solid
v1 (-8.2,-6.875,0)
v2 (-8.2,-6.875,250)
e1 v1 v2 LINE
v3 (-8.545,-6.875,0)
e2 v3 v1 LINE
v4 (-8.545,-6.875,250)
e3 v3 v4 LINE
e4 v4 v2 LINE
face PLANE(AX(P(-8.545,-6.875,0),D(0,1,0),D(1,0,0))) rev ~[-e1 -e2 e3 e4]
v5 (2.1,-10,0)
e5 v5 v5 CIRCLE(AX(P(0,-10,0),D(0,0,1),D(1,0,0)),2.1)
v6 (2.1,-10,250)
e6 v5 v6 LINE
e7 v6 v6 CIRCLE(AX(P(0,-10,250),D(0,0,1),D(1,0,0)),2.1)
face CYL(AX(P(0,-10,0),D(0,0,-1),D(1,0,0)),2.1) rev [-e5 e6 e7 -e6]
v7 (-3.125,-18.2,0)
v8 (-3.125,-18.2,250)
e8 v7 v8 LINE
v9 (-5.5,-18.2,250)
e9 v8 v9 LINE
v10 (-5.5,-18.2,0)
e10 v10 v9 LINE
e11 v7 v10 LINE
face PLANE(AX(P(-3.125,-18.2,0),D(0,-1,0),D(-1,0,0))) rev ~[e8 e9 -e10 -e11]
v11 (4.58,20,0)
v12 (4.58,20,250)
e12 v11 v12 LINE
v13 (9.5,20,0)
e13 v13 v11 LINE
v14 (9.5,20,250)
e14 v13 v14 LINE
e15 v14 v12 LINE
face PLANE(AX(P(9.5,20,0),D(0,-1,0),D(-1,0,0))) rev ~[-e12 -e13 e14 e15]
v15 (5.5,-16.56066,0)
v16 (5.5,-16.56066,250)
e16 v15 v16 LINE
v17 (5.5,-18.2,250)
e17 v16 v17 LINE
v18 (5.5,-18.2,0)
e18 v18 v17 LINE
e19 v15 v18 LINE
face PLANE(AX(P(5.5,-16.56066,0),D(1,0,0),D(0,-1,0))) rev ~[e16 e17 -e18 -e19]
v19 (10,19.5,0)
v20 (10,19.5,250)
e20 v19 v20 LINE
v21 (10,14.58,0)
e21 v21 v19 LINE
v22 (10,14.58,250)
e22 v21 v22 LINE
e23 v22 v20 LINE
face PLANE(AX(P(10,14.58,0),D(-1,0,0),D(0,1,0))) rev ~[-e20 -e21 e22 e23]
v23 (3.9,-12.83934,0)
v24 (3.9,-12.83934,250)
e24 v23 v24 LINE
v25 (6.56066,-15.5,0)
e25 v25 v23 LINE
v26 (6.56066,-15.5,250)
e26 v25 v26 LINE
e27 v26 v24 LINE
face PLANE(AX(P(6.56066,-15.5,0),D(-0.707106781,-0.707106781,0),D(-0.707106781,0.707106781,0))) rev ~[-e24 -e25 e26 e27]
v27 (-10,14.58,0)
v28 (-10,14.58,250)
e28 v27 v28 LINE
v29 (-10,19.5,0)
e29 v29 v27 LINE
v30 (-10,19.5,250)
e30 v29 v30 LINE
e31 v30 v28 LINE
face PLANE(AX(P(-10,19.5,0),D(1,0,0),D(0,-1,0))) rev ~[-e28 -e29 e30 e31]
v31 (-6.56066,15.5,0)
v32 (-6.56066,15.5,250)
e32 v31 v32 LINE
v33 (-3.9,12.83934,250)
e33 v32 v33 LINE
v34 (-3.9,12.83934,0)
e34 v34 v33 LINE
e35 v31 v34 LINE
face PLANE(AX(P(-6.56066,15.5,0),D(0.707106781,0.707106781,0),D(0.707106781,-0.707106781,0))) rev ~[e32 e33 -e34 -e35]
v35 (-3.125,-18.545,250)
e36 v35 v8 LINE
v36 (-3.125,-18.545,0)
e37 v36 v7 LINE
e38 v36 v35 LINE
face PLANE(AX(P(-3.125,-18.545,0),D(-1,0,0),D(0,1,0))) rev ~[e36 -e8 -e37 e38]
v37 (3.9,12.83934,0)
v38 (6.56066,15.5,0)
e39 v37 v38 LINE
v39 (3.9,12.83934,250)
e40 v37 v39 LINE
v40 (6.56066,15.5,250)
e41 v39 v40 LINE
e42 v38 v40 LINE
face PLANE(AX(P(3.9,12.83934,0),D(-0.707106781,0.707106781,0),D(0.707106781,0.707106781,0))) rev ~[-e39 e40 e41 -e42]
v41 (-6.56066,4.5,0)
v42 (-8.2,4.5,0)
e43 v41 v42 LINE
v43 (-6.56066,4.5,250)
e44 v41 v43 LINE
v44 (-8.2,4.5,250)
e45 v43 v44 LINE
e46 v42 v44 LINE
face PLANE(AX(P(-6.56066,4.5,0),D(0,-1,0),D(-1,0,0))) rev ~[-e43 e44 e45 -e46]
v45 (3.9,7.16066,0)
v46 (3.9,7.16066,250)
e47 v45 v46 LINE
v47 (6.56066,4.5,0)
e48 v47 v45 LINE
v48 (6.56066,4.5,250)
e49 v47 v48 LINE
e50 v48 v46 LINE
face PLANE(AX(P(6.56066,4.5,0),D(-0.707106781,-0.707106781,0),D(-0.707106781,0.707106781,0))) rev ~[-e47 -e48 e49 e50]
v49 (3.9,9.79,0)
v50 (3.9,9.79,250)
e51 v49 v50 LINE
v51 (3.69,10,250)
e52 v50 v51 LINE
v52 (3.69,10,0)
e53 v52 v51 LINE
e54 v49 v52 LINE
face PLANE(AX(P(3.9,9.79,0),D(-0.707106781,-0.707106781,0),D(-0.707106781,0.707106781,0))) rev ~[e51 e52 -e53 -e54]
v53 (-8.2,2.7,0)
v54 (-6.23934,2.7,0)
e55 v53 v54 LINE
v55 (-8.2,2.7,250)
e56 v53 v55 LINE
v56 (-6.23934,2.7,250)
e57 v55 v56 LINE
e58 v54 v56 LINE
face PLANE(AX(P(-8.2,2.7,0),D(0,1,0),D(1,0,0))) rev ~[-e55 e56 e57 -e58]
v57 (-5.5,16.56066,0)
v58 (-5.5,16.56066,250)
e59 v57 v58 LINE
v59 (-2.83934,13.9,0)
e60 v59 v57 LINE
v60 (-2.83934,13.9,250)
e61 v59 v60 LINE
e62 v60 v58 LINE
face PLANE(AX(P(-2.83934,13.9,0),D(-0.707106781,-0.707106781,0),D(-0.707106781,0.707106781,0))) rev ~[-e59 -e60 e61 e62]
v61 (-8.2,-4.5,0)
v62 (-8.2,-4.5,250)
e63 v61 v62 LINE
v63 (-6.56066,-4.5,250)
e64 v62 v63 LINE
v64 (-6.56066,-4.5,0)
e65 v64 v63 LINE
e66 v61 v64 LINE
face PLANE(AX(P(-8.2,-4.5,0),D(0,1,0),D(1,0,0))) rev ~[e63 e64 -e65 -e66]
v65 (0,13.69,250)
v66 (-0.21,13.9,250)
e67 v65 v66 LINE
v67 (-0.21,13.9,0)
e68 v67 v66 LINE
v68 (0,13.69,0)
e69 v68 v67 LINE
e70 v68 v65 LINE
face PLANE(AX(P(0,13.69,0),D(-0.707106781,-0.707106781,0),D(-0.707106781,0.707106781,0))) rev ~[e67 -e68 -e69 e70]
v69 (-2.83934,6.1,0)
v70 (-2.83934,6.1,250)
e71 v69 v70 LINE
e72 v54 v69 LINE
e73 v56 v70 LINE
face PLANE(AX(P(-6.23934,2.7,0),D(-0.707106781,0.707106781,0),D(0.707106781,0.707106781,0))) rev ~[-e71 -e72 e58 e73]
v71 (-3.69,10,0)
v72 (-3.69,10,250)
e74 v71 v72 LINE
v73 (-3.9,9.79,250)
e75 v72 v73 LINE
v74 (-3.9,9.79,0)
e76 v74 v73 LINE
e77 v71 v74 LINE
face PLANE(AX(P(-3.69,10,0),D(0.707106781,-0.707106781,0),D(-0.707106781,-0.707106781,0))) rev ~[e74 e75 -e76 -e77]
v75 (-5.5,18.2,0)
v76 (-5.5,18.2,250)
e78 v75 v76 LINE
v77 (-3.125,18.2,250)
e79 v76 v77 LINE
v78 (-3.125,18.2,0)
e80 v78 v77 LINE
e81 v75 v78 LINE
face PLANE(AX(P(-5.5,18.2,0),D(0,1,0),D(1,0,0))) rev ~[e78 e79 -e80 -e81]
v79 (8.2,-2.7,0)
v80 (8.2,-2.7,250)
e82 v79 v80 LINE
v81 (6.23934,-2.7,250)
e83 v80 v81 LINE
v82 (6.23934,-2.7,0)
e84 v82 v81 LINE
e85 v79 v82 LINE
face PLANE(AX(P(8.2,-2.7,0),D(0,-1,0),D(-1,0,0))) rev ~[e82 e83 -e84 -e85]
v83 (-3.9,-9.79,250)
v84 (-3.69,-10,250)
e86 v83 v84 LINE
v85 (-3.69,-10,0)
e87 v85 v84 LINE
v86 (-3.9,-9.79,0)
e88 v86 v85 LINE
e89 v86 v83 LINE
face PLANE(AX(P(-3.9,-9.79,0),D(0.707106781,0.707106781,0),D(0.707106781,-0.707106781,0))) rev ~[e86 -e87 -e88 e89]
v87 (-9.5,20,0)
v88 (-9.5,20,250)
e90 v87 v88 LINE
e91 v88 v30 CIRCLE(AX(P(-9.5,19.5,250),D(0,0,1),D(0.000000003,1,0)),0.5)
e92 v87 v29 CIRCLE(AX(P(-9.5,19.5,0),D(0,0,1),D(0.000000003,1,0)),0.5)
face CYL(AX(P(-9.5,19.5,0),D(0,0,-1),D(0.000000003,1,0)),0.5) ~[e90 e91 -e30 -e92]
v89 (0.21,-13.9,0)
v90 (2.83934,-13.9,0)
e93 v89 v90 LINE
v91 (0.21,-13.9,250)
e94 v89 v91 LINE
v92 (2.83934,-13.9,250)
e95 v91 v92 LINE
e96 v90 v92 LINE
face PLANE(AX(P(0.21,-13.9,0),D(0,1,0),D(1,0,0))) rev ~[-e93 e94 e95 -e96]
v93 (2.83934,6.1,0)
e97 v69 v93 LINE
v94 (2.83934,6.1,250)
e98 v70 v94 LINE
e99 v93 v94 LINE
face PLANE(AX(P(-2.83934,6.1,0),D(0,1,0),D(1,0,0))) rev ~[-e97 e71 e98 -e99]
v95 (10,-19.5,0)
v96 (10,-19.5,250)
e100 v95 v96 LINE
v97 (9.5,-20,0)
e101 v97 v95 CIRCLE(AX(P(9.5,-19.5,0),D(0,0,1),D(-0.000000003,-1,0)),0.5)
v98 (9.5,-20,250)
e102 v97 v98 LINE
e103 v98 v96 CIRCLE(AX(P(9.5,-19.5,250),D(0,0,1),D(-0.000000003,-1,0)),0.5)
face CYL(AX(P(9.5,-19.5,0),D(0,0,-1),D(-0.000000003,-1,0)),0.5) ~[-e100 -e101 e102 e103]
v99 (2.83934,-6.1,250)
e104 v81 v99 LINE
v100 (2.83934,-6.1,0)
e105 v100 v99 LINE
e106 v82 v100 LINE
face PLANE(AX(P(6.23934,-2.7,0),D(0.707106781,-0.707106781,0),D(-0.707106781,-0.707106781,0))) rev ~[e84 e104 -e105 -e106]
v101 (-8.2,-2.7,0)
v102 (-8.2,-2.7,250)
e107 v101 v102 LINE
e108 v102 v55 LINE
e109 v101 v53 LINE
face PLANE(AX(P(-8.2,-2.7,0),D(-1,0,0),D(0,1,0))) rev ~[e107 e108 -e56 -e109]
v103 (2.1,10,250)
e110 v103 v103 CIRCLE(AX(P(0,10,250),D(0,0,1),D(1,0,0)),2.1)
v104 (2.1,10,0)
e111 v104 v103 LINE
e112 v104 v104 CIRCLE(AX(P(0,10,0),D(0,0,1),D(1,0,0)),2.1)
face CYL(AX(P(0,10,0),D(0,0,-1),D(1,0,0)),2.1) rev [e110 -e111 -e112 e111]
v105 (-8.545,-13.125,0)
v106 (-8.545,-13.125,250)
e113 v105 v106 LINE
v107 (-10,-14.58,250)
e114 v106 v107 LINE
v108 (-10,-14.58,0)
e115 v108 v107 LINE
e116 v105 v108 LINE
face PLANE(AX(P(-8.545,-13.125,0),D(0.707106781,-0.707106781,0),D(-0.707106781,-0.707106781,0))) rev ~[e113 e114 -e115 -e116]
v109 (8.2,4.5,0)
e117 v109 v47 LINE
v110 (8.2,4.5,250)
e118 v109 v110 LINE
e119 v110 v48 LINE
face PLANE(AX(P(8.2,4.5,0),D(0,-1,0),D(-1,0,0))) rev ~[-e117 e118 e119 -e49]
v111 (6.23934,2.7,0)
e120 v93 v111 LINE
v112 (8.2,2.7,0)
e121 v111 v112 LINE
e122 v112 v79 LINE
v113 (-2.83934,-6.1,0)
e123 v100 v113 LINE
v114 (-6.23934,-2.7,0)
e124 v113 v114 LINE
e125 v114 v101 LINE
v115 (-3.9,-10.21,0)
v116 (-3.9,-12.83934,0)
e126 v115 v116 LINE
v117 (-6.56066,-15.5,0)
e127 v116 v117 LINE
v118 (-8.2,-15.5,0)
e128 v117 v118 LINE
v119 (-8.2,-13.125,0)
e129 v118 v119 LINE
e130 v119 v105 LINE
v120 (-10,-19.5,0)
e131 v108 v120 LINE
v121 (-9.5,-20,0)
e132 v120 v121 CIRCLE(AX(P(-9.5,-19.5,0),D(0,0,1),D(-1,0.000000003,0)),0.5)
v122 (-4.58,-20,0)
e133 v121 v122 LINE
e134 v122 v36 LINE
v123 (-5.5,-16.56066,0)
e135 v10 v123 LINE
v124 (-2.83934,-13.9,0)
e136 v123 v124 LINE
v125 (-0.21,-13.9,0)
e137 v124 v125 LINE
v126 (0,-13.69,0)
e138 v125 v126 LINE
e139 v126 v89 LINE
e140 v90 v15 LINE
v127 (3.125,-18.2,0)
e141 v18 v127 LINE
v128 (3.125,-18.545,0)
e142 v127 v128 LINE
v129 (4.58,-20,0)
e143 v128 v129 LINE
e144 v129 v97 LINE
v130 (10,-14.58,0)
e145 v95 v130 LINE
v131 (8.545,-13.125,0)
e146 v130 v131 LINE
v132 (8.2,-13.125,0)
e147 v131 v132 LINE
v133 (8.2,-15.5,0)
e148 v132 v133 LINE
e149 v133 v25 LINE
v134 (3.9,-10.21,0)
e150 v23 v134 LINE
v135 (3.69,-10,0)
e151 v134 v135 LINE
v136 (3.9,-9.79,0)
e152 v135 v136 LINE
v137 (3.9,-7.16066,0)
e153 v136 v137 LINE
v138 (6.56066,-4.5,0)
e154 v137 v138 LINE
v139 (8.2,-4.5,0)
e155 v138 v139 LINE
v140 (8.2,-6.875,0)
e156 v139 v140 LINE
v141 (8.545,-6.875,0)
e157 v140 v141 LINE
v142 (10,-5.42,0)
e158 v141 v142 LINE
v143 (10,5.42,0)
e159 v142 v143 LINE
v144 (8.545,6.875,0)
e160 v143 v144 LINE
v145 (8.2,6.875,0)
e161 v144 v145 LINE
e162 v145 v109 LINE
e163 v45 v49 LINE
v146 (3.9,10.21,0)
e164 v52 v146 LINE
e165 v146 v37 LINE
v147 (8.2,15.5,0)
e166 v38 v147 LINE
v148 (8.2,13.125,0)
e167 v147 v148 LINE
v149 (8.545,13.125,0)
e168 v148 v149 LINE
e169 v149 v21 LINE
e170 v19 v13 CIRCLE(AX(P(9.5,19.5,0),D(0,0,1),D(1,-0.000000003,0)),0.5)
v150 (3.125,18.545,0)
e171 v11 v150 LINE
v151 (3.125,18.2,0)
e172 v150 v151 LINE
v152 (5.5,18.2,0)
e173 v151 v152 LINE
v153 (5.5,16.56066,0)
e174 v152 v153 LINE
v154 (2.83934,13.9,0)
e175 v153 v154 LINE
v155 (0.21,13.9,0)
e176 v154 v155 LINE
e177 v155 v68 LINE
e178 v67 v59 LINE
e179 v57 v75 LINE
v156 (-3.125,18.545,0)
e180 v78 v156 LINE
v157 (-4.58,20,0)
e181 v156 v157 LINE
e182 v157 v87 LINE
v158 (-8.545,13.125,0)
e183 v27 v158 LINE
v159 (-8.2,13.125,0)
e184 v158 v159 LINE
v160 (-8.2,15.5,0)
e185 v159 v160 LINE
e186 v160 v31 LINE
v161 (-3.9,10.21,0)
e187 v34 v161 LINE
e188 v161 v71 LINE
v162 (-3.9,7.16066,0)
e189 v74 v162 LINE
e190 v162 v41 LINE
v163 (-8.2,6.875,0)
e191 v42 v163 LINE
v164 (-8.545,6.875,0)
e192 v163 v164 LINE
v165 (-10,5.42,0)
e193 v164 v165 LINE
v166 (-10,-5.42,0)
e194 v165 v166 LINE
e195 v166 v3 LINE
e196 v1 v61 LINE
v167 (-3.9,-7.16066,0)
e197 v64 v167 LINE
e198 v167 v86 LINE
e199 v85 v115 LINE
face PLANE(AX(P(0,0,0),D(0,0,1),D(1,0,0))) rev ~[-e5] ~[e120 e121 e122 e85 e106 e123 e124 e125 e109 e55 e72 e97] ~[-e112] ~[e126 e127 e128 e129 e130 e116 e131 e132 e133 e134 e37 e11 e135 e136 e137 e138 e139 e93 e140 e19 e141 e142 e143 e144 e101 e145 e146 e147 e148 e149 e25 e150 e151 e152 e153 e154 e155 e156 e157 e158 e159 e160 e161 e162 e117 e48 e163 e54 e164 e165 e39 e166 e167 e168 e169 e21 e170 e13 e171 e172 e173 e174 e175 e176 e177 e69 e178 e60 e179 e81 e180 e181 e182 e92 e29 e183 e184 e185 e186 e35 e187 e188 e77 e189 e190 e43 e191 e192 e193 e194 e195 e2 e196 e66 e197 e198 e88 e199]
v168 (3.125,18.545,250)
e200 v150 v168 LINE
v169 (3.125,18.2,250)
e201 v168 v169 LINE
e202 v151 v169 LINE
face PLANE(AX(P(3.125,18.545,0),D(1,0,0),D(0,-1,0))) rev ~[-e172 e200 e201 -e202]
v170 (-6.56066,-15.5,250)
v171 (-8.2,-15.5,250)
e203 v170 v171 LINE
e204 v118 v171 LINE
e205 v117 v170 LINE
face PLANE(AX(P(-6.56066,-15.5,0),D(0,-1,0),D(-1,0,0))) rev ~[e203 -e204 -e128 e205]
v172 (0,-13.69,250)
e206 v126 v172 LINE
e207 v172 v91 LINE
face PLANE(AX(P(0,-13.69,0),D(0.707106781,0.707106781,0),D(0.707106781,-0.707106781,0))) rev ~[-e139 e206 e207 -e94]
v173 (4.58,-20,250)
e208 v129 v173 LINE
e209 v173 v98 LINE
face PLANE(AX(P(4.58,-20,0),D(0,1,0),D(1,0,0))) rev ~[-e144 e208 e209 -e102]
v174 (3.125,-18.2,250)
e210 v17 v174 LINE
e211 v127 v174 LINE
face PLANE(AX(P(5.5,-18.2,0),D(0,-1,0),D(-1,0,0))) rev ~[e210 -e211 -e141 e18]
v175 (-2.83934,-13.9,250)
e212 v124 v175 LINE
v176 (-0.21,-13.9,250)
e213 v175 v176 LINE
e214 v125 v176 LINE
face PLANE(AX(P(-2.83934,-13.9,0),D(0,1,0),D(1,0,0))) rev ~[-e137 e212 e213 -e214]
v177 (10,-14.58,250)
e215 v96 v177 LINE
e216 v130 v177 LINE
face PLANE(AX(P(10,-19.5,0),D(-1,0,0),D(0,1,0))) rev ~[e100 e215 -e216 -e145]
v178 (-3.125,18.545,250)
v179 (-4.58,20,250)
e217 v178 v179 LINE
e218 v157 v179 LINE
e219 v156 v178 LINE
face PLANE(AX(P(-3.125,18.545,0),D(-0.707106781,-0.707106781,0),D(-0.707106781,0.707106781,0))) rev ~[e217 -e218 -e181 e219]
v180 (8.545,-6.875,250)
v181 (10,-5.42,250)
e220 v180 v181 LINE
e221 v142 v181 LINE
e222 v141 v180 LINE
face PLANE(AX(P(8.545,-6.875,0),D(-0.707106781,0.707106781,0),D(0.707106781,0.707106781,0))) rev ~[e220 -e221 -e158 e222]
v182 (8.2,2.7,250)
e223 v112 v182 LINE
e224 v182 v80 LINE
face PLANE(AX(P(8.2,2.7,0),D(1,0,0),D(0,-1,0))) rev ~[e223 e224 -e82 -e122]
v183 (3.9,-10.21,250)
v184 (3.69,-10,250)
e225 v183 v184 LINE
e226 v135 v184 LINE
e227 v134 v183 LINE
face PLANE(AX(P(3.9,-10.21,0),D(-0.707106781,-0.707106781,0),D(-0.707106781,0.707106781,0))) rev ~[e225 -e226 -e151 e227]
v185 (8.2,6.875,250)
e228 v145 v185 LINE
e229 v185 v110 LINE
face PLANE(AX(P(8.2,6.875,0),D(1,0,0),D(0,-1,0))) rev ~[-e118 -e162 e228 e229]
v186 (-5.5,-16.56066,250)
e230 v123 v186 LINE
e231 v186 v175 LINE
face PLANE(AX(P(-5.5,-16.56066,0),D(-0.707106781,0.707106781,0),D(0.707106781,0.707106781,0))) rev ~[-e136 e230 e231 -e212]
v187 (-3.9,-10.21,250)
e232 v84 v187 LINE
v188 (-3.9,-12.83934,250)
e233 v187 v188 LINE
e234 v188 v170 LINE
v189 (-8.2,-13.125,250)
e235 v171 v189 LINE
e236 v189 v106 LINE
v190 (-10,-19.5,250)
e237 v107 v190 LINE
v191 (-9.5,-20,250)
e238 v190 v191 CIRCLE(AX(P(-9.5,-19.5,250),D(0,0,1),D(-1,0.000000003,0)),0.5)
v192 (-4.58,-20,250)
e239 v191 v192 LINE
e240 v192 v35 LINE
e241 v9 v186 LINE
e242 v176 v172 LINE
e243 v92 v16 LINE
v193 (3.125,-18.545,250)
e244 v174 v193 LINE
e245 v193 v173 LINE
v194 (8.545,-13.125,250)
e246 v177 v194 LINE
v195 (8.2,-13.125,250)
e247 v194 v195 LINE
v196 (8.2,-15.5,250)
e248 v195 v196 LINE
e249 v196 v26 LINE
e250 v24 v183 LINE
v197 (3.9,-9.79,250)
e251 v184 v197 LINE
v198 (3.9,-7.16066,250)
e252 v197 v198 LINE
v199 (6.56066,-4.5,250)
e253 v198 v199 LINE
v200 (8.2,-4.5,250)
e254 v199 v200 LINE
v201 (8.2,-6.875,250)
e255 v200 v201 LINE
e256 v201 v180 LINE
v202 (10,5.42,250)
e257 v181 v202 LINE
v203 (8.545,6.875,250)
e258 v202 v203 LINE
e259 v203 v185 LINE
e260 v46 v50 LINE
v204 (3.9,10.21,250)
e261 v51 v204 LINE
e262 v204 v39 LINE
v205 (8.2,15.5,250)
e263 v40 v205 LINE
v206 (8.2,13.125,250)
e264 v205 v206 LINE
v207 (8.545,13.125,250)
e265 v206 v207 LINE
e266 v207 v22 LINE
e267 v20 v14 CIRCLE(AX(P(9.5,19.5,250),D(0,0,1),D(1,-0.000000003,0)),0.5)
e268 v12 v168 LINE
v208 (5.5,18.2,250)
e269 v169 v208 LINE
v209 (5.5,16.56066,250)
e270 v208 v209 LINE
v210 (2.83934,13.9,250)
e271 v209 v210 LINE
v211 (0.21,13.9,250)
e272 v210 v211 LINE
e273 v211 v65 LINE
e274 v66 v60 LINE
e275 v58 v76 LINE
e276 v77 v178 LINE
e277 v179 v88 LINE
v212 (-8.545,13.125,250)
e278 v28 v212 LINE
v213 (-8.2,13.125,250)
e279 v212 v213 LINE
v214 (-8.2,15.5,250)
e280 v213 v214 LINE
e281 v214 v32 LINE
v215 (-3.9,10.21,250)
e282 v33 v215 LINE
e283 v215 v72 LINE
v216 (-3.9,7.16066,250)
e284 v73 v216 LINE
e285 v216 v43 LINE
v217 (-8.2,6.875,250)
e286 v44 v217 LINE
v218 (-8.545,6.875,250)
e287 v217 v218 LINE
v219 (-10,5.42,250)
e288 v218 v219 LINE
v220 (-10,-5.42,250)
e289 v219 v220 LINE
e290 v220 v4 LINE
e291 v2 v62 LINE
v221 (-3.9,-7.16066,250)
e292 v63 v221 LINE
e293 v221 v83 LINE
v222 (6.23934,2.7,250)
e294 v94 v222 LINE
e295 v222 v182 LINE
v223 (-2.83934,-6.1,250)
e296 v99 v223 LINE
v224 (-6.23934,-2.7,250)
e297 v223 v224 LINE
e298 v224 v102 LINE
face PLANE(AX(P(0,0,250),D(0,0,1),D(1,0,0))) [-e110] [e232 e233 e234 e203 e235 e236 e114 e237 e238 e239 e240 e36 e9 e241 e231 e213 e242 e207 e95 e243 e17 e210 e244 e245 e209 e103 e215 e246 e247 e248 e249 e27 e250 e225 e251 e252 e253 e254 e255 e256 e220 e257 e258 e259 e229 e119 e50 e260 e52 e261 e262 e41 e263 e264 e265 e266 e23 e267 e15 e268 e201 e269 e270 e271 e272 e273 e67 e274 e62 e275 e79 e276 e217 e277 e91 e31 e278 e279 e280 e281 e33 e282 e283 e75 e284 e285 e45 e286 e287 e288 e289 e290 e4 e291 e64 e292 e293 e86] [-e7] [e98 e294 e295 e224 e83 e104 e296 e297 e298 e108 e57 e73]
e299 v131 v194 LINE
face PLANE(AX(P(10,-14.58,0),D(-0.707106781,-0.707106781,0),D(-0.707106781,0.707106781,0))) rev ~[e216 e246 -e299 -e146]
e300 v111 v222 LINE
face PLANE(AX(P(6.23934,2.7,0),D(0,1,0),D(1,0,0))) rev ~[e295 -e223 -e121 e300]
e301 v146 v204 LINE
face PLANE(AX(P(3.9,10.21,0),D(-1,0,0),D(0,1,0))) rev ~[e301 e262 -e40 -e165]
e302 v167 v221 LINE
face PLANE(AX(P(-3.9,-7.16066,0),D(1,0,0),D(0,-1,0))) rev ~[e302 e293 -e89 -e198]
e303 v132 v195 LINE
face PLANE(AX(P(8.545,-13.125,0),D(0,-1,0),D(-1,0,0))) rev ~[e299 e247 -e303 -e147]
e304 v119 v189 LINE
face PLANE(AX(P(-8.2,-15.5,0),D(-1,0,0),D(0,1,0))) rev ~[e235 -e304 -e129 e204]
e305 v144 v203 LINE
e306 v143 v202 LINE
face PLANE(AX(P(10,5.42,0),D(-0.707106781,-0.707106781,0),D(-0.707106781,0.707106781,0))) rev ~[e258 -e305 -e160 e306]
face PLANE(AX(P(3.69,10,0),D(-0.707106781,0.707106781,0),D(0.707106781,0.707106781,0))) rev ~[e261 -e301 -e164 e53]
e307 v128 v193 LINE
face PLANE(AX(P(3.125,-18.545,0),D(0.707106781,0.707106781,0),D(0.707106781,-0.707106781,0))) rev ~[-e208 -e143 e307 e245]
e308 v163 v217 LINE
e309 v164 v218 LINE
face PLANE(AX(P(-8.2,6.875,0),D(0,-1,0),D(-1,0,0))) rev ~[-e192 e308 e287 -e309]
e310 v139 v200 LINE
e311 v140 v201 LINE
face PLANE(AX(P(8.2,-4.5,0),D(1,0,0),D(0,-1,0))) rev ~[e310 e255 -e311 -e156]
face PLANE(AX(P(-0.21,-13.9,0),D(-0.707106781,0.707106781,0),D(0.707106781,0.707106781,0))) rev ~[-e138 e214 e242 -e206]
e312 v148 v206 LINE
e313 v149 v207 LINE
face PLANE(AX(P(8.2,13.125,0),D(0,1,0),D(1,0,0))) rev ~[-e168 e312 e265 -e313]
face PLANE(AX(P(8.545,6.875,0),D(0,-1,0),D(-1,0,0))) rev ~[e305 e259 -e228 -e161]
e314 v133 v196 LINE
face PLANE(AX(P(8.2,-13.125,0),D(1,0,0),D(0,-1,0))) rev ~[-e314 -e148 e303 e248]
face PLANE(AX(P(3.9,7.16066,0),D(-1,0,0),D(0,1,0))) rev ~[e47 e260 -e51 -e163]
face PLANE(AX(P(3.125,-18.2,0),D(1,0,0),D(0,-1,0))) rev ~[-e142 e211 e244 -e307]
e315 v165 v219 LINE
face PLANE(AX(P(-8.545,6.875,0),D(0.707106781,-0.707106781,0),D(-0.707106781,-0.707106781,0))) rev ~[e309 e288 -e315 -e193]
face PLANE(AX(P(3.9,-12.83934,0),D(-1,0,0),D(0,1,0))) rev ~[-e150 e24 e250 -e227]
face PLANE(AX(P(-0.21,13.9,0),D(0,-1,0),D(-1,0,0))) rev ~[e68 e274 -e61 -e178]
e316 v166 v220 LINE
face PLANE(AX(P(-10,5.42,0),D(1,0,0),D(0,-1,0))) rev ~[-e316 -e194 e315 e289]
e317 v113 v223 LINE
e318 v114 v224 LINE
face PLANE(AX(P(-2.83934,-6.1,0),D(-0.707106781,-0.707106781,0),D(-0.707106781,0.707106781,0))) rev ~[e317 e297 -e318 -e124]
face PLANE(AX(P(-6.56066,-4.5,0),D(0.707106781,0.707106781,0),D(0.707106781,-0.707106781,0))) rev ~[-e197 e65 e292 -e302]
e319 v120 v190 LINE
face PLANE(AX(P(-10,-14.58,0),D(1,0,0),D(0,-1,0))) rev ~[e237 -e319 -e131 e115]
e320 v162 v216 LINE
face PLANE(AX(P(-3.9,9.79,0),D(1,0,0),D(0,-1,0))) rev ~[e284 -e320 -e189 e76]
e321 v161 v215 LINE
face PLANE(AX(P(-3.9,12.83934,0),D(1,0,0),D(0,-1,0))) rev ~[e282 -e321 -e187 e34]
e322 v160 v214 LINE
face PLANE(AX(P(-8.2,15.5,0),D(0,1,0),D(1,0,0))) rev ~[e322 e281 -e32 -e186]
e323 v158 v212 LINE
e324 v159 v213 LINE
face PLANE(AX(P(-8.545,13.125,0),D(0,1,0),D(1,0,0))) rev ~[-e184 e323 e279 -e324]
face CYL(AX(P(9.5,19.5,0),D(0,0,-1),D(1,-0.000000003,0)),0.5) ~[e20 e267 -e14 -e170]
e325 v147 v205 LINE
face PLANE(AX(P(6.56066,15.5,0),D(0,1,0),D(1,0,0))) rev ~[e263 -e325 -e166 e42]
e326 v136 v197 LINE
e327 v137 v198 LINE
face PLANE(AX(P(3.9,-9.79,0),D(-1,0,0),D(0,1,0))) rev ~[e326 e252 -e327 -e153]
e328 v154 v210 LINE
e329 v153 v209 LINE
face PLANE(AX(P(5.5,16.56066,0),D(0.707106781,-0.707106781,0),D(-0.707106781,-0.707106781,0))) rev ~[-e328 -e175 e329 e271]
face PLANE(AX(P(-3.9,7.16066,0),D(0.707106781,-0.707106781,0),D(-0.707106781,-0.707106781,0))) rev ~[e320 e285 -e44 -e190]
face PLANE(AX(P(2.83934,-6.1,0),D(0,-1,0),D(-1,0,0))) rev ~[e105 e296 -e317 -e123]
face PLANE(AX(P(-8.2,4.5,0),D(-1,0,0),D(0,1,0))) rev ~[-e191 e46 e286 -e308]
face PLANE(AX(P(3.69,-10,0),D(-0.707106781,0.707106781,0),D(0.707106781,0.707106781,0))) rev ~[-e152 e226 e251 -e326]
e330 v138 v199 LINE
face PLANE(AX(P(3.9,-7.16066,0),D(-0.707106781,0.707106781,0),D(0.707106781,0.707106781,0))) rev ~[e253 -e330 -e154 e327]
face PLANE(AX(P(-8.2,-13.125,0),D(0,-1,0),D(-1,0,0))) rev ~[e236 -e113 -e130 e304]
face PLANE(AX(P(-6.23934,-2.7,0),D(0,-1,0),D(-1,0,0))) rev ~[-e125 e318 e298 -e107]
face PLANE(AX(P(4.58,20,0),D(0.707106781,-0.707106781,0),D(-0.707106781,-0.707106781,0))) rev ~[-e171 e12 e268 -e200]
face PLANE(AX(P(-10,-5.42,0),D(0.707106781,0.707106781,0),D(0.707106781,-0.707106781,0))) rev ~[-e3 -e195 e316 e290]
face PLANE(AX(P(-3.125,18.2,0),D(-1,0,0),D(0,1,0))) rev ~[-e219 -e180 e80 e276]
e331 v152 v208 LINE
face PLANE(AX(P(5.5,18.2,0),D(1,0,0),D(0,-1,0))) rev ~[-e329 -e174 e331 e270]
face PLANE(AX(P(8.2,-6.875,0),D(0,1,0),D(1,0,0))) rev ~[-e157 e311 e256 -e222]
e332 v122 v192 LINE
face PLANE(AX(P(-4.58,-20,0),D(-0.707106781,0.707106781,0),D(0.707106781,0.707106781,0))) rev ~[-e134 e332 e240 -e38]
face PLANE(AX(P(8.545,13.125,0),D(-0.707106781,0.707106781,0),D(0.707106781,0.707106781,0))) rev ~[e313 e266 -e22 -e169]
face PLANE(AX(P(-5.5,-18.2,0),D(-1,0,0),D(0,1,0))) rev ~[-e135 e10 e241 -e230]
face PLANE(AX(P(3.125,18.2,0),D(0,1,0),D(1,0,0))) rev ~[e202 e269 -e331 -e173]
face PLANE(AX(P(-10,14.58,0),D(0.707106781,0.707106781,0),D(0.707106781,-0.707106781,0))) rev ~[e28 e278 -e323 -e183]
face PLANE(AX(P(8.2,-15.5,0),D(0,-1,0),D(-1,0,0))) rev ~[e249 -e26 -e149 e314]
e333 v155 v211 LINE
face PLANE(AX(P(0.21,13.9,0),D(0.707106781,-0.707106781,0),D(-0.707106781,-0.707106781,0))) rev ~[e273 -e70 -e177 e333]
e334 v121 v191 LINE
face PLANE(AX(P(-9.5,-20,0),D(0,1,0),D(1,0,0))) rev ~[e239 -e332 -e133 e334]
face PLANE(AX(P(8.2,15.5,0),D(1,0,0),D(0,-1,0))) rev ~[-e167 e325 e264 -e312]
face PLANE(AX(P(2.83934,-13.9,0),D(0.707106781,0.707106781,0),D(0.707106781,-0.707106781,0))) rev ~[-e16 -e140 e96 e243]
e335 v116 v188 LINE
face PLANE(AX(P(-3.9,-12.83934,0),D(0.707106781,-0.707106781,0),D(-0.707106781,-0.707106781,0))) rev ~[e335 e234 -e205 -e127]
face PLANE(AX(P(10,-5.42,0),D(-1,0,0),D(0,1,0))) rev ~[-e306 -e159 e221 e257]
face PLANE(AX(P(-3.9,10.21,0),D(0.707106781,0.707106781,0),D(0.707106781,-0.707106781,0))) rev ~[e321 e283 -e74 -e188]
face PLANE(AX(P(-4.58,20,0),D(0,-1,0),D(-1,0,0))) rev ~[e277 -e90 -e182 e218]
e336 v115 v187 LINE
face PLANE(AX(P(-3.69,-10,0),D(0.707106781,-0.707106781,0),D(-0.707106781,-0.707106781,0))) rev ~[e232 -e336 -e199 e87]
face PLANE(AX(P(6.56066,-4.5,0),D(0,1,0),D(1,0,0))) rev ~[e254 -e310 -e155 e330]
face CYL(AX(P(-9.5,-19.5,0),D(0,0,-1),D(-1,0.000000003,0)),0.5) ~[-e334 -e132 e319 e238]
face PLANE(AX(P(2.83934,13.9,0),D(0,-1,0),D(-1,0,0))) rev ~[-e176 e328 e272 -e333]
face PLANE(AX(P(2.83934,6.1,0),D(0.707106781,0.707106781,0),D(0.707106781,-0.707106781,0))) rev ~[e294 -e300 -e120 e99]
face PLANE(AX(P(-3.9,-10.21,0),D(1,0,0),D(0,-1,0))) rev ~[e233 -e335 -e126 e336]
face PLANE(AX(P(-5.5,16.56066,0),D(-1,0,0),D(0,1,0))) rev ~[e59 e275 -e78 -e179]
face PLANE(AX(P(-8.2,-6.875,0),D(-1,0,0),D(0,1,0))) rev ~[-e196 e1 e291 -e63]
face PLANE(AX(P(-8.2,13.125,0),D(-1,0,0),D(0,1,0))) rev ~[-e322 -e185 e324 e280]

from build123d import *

# Parameters (mm, degrees)
SKETCH1_R           = 2.1
BOSS_EXTRUDE1_DEPTH = 250


with BuildPart() as part:
    # Sketch1 → Boss-Extrude1 (new body)
    with BuildSketch(Plane.XY):
        with BuildLine():
            Line((4.58, -20), (9.5, -20))
            ThreePointArc((9.5, -20), (9.853553391, -19.853553391), (10, -19.5))
            Line((10, -19.5), (10, -14.58))
            Line((10, -14.58), (8.545, -13.125))
            Line((8.545, -13.125), (8.2, -13.125))
            Line((8.2, -13.125), (8.2, -15.5))
            Line((8.2, -15.5), (6.560660172, -15.5))
            Line((6.560660172, -15.5), (3.9, -12.839339828))
            Line((3.9, -12.839339828), (3.9, -10.21))
            Line((3.9, -10.21), (3.69, -10))
            Line((3.69, -10), (3.9, -9.79))
            Line((3.9, -9.79), (3.9, -7.160660172))
            Line((3.9, -7.160660172), (6.560660172, -4.5))
            Line((6.560660172, -4.5), (8.2, -4.5))
            Line((8.2, -4.5), (8.2, -6.875))
            Line((8.2, -6.875), (8.545, -6.875))
            Line((8.545, -6.875), (10, -5.42))
            Line((10, -5.42), (10, 5.42))
            Line((10, 5.42), (8.545, 6.875))
            Line((8.545, 6.875), (8.2, 6.875))
            Line((8.2, 6.875), (8.2, 4.5))
            Line((8.2, 4.5), (6.560660172, 4.5))
            Line((6.560660172, 4.5), (3.9, 7.160660172))
            Line((3.9, 7.160660172), (3.9, 9.79))
            Line((3.9, 9.79), (3.69, 10))
            Line((3.69, 10), (3.9, 10.21))
            Line((3.9, 10.21), (3.9, 12.839339828))
            Line((3.9, 12.839339828), (6.560660172, 15.5))
            Line((6.560660172, 15.5), (8.2, 15.5))
            Line((8.2, 15.5), (8.2, 13.125))
            Line((8.2, 13.125), (8.545, 13.125))
            Line((8.545, 13.125), (10, 14.58))
            Line((10, 14.58), (10, 19.5))
            ThreePointArc((10, 19.5), (9.853553391, 19.853553391), (9.5, 20))
            Line((9.5, 20), (4.58, 20))
            Line((4.58, 20), (3.125, 18.545))
            Line((3.125, 18.545), (3.125, 18.2))
            Line((3.125, 18.2), (5.5, 18.2))
            Line((5.5, 18.2), (5.5, 16.560660172))
            Line((5.5, 16.560660172), (2.839339828, 13.9))
            Line((2.839339828, 13.9), (0.21, 13.9))
            Line((0.21, 13.9), (0, 13.69))
            Line((0, 13.69), (-0.21, 13.9))
            Line((-0.21, 13.9), (-2.839339828, 13.9))
            Line((-2.839339828, 13.9), (-5.5, 16.560660172))
            Line((-5.5, 16.560660172), (-5.5, 18.2))
            Line((-5.5, 18.2), (-3.125, 18.2))
            Line((-3.125, 18.2), (-3.125, 18.545))
            Line((-3.125, 18.545), (-4.58, 20))
            Line((-4.58, 20), (-9.5, 20))
            ThreePointArc((-9.5, 20), (-9.853553391, 19.853553391), (-10, 19.5))
            Line((-10, 19.5), (-10, 14.58))
            Line((-10, 14.58), (-8.545, 13.125))
            Line((-8.545, 13.125), (-8.2, 13.125))
            Line((-8.2, 13.125), (-8.2, 15.5))
            Line((-8.2, 15.5), (-6.560660172, 15.5))
            Line((-6.560660172, 15.5), (-3.9, 12.839339828))
            Line((-3.9, 12.839339828), (-3.9, 10.21))
            Line((-3.9, 10.21), (-3.69, 10))
            Line((-3.69, 10), (-3.9, 9.79))
            Line((-3.9, 9.79), (-3.9, 7.160660172))
            Line((-3.9, 7.160660172), (-6.560660172, 4.5))
            Line((-6.560660172, 4.5), (-8.2, 4.5))
            Line((-8.2, 4.5), (-8.2, 6.875))
            Line((-8.2, 6.875), (-8.545, 6.875))
            Line((-8.545, 6.875), (-10, 5.42))
            Line((-10, 5.42), (-10, -5.42))
            Line((-10, -5.42), (-8.545, -6.875))
            Line((-8.545, -6.875), (-8.2, -6.875))
            Line((-8.2, -6.875), (-8.2, -4.5))
            Line((-8.2, -4.5), (-6.560660172, -4.5))
            Line((-6.560660172, -4.5), (-3.9, -7.160660172))
            Line((-3.9, -7.160660172), (-3.9, -9.79))
            Line((-3.9, -9.79), (-3.69, -10))
            Line((-3.69, -10), (-3.9, -10.21))
            Line((-3.9, -10.21), (-3.9, -12.839339828))
            Line((-3.9, -12.839339828), (-6.560660172, -15.5))
            Line((-6.560660172, -15.5), (-8.2, -15.5))
            Line((-8.2, -15.5), (-8.2, -13.125))
            Line((-8.2, -13.125), (-8.545, -13.125))
            Line((-8.545, -13.125), (-10, -14.58))
            Line((-10, -14.58), (-10, -19.5))
            ThreePointArc((-10, -19.5), (-9.853553391, -19.853553391), (-9.5, -20))
            Line((-9.5, -20), (-4.58, -20))
            Line((-4.58, -20), (-3.125, -18.545))
            Line((-3.125, -18.545), (-3.125, -18.2))
            Line((-3.125, -18.2), (-5.5, -18.2))
            Line((-5.5, -18.2), (-5.5, -16.560660172))
            Line((-5.5, -16.560660172), (-2.839339828, -13.9))
            Line((-2.839339828, -13.9), (-0.21, -13.9))
            Line((-0.21, -13.9), (0, -13.69))
            Line((0, -13.69), (0.21, -13.9))
            Line((0.21, -13.9), (2.839339828, -13.9))
            Line((2.839339828, -13.9), (5.5, -16.560660172))
            Line((5.5, -16.560660172), (5.5, -18.2))
            Line((5.5, -18.2), (3.125, -18.2))
            Line((3.125, -18.2), (3.125, -18.545))
            Line((3.125, -18.545), (4.58, -20))
        make_face()
        with Locations((0, -10)):
            Circle(SKETCH1_R, mode=Mode.SUBTRACT)
        Polygon((-6.239339828, -2.7), (-8.2, -2.7), (-8.2, 2.7), (-6.239339828, 2.7), (-2.839339828, 6.1), (2.839339828, 6.1), (6.239339828, 2.7), (8.2, 2.7), (8.2, -2.7), (6.239339828, -2.7), (2.839339828, -6.1), (-2.839339828, -6.1), align=None, mode=Mode.SUBTRACT)
        with Locations((0, 10)):
            Circle(SKETCH1_R, mode=Mode.SUBTRACT)
    extrude(amount=BOSS_EXTRUDE1_DEPTH)


solid = part.part
